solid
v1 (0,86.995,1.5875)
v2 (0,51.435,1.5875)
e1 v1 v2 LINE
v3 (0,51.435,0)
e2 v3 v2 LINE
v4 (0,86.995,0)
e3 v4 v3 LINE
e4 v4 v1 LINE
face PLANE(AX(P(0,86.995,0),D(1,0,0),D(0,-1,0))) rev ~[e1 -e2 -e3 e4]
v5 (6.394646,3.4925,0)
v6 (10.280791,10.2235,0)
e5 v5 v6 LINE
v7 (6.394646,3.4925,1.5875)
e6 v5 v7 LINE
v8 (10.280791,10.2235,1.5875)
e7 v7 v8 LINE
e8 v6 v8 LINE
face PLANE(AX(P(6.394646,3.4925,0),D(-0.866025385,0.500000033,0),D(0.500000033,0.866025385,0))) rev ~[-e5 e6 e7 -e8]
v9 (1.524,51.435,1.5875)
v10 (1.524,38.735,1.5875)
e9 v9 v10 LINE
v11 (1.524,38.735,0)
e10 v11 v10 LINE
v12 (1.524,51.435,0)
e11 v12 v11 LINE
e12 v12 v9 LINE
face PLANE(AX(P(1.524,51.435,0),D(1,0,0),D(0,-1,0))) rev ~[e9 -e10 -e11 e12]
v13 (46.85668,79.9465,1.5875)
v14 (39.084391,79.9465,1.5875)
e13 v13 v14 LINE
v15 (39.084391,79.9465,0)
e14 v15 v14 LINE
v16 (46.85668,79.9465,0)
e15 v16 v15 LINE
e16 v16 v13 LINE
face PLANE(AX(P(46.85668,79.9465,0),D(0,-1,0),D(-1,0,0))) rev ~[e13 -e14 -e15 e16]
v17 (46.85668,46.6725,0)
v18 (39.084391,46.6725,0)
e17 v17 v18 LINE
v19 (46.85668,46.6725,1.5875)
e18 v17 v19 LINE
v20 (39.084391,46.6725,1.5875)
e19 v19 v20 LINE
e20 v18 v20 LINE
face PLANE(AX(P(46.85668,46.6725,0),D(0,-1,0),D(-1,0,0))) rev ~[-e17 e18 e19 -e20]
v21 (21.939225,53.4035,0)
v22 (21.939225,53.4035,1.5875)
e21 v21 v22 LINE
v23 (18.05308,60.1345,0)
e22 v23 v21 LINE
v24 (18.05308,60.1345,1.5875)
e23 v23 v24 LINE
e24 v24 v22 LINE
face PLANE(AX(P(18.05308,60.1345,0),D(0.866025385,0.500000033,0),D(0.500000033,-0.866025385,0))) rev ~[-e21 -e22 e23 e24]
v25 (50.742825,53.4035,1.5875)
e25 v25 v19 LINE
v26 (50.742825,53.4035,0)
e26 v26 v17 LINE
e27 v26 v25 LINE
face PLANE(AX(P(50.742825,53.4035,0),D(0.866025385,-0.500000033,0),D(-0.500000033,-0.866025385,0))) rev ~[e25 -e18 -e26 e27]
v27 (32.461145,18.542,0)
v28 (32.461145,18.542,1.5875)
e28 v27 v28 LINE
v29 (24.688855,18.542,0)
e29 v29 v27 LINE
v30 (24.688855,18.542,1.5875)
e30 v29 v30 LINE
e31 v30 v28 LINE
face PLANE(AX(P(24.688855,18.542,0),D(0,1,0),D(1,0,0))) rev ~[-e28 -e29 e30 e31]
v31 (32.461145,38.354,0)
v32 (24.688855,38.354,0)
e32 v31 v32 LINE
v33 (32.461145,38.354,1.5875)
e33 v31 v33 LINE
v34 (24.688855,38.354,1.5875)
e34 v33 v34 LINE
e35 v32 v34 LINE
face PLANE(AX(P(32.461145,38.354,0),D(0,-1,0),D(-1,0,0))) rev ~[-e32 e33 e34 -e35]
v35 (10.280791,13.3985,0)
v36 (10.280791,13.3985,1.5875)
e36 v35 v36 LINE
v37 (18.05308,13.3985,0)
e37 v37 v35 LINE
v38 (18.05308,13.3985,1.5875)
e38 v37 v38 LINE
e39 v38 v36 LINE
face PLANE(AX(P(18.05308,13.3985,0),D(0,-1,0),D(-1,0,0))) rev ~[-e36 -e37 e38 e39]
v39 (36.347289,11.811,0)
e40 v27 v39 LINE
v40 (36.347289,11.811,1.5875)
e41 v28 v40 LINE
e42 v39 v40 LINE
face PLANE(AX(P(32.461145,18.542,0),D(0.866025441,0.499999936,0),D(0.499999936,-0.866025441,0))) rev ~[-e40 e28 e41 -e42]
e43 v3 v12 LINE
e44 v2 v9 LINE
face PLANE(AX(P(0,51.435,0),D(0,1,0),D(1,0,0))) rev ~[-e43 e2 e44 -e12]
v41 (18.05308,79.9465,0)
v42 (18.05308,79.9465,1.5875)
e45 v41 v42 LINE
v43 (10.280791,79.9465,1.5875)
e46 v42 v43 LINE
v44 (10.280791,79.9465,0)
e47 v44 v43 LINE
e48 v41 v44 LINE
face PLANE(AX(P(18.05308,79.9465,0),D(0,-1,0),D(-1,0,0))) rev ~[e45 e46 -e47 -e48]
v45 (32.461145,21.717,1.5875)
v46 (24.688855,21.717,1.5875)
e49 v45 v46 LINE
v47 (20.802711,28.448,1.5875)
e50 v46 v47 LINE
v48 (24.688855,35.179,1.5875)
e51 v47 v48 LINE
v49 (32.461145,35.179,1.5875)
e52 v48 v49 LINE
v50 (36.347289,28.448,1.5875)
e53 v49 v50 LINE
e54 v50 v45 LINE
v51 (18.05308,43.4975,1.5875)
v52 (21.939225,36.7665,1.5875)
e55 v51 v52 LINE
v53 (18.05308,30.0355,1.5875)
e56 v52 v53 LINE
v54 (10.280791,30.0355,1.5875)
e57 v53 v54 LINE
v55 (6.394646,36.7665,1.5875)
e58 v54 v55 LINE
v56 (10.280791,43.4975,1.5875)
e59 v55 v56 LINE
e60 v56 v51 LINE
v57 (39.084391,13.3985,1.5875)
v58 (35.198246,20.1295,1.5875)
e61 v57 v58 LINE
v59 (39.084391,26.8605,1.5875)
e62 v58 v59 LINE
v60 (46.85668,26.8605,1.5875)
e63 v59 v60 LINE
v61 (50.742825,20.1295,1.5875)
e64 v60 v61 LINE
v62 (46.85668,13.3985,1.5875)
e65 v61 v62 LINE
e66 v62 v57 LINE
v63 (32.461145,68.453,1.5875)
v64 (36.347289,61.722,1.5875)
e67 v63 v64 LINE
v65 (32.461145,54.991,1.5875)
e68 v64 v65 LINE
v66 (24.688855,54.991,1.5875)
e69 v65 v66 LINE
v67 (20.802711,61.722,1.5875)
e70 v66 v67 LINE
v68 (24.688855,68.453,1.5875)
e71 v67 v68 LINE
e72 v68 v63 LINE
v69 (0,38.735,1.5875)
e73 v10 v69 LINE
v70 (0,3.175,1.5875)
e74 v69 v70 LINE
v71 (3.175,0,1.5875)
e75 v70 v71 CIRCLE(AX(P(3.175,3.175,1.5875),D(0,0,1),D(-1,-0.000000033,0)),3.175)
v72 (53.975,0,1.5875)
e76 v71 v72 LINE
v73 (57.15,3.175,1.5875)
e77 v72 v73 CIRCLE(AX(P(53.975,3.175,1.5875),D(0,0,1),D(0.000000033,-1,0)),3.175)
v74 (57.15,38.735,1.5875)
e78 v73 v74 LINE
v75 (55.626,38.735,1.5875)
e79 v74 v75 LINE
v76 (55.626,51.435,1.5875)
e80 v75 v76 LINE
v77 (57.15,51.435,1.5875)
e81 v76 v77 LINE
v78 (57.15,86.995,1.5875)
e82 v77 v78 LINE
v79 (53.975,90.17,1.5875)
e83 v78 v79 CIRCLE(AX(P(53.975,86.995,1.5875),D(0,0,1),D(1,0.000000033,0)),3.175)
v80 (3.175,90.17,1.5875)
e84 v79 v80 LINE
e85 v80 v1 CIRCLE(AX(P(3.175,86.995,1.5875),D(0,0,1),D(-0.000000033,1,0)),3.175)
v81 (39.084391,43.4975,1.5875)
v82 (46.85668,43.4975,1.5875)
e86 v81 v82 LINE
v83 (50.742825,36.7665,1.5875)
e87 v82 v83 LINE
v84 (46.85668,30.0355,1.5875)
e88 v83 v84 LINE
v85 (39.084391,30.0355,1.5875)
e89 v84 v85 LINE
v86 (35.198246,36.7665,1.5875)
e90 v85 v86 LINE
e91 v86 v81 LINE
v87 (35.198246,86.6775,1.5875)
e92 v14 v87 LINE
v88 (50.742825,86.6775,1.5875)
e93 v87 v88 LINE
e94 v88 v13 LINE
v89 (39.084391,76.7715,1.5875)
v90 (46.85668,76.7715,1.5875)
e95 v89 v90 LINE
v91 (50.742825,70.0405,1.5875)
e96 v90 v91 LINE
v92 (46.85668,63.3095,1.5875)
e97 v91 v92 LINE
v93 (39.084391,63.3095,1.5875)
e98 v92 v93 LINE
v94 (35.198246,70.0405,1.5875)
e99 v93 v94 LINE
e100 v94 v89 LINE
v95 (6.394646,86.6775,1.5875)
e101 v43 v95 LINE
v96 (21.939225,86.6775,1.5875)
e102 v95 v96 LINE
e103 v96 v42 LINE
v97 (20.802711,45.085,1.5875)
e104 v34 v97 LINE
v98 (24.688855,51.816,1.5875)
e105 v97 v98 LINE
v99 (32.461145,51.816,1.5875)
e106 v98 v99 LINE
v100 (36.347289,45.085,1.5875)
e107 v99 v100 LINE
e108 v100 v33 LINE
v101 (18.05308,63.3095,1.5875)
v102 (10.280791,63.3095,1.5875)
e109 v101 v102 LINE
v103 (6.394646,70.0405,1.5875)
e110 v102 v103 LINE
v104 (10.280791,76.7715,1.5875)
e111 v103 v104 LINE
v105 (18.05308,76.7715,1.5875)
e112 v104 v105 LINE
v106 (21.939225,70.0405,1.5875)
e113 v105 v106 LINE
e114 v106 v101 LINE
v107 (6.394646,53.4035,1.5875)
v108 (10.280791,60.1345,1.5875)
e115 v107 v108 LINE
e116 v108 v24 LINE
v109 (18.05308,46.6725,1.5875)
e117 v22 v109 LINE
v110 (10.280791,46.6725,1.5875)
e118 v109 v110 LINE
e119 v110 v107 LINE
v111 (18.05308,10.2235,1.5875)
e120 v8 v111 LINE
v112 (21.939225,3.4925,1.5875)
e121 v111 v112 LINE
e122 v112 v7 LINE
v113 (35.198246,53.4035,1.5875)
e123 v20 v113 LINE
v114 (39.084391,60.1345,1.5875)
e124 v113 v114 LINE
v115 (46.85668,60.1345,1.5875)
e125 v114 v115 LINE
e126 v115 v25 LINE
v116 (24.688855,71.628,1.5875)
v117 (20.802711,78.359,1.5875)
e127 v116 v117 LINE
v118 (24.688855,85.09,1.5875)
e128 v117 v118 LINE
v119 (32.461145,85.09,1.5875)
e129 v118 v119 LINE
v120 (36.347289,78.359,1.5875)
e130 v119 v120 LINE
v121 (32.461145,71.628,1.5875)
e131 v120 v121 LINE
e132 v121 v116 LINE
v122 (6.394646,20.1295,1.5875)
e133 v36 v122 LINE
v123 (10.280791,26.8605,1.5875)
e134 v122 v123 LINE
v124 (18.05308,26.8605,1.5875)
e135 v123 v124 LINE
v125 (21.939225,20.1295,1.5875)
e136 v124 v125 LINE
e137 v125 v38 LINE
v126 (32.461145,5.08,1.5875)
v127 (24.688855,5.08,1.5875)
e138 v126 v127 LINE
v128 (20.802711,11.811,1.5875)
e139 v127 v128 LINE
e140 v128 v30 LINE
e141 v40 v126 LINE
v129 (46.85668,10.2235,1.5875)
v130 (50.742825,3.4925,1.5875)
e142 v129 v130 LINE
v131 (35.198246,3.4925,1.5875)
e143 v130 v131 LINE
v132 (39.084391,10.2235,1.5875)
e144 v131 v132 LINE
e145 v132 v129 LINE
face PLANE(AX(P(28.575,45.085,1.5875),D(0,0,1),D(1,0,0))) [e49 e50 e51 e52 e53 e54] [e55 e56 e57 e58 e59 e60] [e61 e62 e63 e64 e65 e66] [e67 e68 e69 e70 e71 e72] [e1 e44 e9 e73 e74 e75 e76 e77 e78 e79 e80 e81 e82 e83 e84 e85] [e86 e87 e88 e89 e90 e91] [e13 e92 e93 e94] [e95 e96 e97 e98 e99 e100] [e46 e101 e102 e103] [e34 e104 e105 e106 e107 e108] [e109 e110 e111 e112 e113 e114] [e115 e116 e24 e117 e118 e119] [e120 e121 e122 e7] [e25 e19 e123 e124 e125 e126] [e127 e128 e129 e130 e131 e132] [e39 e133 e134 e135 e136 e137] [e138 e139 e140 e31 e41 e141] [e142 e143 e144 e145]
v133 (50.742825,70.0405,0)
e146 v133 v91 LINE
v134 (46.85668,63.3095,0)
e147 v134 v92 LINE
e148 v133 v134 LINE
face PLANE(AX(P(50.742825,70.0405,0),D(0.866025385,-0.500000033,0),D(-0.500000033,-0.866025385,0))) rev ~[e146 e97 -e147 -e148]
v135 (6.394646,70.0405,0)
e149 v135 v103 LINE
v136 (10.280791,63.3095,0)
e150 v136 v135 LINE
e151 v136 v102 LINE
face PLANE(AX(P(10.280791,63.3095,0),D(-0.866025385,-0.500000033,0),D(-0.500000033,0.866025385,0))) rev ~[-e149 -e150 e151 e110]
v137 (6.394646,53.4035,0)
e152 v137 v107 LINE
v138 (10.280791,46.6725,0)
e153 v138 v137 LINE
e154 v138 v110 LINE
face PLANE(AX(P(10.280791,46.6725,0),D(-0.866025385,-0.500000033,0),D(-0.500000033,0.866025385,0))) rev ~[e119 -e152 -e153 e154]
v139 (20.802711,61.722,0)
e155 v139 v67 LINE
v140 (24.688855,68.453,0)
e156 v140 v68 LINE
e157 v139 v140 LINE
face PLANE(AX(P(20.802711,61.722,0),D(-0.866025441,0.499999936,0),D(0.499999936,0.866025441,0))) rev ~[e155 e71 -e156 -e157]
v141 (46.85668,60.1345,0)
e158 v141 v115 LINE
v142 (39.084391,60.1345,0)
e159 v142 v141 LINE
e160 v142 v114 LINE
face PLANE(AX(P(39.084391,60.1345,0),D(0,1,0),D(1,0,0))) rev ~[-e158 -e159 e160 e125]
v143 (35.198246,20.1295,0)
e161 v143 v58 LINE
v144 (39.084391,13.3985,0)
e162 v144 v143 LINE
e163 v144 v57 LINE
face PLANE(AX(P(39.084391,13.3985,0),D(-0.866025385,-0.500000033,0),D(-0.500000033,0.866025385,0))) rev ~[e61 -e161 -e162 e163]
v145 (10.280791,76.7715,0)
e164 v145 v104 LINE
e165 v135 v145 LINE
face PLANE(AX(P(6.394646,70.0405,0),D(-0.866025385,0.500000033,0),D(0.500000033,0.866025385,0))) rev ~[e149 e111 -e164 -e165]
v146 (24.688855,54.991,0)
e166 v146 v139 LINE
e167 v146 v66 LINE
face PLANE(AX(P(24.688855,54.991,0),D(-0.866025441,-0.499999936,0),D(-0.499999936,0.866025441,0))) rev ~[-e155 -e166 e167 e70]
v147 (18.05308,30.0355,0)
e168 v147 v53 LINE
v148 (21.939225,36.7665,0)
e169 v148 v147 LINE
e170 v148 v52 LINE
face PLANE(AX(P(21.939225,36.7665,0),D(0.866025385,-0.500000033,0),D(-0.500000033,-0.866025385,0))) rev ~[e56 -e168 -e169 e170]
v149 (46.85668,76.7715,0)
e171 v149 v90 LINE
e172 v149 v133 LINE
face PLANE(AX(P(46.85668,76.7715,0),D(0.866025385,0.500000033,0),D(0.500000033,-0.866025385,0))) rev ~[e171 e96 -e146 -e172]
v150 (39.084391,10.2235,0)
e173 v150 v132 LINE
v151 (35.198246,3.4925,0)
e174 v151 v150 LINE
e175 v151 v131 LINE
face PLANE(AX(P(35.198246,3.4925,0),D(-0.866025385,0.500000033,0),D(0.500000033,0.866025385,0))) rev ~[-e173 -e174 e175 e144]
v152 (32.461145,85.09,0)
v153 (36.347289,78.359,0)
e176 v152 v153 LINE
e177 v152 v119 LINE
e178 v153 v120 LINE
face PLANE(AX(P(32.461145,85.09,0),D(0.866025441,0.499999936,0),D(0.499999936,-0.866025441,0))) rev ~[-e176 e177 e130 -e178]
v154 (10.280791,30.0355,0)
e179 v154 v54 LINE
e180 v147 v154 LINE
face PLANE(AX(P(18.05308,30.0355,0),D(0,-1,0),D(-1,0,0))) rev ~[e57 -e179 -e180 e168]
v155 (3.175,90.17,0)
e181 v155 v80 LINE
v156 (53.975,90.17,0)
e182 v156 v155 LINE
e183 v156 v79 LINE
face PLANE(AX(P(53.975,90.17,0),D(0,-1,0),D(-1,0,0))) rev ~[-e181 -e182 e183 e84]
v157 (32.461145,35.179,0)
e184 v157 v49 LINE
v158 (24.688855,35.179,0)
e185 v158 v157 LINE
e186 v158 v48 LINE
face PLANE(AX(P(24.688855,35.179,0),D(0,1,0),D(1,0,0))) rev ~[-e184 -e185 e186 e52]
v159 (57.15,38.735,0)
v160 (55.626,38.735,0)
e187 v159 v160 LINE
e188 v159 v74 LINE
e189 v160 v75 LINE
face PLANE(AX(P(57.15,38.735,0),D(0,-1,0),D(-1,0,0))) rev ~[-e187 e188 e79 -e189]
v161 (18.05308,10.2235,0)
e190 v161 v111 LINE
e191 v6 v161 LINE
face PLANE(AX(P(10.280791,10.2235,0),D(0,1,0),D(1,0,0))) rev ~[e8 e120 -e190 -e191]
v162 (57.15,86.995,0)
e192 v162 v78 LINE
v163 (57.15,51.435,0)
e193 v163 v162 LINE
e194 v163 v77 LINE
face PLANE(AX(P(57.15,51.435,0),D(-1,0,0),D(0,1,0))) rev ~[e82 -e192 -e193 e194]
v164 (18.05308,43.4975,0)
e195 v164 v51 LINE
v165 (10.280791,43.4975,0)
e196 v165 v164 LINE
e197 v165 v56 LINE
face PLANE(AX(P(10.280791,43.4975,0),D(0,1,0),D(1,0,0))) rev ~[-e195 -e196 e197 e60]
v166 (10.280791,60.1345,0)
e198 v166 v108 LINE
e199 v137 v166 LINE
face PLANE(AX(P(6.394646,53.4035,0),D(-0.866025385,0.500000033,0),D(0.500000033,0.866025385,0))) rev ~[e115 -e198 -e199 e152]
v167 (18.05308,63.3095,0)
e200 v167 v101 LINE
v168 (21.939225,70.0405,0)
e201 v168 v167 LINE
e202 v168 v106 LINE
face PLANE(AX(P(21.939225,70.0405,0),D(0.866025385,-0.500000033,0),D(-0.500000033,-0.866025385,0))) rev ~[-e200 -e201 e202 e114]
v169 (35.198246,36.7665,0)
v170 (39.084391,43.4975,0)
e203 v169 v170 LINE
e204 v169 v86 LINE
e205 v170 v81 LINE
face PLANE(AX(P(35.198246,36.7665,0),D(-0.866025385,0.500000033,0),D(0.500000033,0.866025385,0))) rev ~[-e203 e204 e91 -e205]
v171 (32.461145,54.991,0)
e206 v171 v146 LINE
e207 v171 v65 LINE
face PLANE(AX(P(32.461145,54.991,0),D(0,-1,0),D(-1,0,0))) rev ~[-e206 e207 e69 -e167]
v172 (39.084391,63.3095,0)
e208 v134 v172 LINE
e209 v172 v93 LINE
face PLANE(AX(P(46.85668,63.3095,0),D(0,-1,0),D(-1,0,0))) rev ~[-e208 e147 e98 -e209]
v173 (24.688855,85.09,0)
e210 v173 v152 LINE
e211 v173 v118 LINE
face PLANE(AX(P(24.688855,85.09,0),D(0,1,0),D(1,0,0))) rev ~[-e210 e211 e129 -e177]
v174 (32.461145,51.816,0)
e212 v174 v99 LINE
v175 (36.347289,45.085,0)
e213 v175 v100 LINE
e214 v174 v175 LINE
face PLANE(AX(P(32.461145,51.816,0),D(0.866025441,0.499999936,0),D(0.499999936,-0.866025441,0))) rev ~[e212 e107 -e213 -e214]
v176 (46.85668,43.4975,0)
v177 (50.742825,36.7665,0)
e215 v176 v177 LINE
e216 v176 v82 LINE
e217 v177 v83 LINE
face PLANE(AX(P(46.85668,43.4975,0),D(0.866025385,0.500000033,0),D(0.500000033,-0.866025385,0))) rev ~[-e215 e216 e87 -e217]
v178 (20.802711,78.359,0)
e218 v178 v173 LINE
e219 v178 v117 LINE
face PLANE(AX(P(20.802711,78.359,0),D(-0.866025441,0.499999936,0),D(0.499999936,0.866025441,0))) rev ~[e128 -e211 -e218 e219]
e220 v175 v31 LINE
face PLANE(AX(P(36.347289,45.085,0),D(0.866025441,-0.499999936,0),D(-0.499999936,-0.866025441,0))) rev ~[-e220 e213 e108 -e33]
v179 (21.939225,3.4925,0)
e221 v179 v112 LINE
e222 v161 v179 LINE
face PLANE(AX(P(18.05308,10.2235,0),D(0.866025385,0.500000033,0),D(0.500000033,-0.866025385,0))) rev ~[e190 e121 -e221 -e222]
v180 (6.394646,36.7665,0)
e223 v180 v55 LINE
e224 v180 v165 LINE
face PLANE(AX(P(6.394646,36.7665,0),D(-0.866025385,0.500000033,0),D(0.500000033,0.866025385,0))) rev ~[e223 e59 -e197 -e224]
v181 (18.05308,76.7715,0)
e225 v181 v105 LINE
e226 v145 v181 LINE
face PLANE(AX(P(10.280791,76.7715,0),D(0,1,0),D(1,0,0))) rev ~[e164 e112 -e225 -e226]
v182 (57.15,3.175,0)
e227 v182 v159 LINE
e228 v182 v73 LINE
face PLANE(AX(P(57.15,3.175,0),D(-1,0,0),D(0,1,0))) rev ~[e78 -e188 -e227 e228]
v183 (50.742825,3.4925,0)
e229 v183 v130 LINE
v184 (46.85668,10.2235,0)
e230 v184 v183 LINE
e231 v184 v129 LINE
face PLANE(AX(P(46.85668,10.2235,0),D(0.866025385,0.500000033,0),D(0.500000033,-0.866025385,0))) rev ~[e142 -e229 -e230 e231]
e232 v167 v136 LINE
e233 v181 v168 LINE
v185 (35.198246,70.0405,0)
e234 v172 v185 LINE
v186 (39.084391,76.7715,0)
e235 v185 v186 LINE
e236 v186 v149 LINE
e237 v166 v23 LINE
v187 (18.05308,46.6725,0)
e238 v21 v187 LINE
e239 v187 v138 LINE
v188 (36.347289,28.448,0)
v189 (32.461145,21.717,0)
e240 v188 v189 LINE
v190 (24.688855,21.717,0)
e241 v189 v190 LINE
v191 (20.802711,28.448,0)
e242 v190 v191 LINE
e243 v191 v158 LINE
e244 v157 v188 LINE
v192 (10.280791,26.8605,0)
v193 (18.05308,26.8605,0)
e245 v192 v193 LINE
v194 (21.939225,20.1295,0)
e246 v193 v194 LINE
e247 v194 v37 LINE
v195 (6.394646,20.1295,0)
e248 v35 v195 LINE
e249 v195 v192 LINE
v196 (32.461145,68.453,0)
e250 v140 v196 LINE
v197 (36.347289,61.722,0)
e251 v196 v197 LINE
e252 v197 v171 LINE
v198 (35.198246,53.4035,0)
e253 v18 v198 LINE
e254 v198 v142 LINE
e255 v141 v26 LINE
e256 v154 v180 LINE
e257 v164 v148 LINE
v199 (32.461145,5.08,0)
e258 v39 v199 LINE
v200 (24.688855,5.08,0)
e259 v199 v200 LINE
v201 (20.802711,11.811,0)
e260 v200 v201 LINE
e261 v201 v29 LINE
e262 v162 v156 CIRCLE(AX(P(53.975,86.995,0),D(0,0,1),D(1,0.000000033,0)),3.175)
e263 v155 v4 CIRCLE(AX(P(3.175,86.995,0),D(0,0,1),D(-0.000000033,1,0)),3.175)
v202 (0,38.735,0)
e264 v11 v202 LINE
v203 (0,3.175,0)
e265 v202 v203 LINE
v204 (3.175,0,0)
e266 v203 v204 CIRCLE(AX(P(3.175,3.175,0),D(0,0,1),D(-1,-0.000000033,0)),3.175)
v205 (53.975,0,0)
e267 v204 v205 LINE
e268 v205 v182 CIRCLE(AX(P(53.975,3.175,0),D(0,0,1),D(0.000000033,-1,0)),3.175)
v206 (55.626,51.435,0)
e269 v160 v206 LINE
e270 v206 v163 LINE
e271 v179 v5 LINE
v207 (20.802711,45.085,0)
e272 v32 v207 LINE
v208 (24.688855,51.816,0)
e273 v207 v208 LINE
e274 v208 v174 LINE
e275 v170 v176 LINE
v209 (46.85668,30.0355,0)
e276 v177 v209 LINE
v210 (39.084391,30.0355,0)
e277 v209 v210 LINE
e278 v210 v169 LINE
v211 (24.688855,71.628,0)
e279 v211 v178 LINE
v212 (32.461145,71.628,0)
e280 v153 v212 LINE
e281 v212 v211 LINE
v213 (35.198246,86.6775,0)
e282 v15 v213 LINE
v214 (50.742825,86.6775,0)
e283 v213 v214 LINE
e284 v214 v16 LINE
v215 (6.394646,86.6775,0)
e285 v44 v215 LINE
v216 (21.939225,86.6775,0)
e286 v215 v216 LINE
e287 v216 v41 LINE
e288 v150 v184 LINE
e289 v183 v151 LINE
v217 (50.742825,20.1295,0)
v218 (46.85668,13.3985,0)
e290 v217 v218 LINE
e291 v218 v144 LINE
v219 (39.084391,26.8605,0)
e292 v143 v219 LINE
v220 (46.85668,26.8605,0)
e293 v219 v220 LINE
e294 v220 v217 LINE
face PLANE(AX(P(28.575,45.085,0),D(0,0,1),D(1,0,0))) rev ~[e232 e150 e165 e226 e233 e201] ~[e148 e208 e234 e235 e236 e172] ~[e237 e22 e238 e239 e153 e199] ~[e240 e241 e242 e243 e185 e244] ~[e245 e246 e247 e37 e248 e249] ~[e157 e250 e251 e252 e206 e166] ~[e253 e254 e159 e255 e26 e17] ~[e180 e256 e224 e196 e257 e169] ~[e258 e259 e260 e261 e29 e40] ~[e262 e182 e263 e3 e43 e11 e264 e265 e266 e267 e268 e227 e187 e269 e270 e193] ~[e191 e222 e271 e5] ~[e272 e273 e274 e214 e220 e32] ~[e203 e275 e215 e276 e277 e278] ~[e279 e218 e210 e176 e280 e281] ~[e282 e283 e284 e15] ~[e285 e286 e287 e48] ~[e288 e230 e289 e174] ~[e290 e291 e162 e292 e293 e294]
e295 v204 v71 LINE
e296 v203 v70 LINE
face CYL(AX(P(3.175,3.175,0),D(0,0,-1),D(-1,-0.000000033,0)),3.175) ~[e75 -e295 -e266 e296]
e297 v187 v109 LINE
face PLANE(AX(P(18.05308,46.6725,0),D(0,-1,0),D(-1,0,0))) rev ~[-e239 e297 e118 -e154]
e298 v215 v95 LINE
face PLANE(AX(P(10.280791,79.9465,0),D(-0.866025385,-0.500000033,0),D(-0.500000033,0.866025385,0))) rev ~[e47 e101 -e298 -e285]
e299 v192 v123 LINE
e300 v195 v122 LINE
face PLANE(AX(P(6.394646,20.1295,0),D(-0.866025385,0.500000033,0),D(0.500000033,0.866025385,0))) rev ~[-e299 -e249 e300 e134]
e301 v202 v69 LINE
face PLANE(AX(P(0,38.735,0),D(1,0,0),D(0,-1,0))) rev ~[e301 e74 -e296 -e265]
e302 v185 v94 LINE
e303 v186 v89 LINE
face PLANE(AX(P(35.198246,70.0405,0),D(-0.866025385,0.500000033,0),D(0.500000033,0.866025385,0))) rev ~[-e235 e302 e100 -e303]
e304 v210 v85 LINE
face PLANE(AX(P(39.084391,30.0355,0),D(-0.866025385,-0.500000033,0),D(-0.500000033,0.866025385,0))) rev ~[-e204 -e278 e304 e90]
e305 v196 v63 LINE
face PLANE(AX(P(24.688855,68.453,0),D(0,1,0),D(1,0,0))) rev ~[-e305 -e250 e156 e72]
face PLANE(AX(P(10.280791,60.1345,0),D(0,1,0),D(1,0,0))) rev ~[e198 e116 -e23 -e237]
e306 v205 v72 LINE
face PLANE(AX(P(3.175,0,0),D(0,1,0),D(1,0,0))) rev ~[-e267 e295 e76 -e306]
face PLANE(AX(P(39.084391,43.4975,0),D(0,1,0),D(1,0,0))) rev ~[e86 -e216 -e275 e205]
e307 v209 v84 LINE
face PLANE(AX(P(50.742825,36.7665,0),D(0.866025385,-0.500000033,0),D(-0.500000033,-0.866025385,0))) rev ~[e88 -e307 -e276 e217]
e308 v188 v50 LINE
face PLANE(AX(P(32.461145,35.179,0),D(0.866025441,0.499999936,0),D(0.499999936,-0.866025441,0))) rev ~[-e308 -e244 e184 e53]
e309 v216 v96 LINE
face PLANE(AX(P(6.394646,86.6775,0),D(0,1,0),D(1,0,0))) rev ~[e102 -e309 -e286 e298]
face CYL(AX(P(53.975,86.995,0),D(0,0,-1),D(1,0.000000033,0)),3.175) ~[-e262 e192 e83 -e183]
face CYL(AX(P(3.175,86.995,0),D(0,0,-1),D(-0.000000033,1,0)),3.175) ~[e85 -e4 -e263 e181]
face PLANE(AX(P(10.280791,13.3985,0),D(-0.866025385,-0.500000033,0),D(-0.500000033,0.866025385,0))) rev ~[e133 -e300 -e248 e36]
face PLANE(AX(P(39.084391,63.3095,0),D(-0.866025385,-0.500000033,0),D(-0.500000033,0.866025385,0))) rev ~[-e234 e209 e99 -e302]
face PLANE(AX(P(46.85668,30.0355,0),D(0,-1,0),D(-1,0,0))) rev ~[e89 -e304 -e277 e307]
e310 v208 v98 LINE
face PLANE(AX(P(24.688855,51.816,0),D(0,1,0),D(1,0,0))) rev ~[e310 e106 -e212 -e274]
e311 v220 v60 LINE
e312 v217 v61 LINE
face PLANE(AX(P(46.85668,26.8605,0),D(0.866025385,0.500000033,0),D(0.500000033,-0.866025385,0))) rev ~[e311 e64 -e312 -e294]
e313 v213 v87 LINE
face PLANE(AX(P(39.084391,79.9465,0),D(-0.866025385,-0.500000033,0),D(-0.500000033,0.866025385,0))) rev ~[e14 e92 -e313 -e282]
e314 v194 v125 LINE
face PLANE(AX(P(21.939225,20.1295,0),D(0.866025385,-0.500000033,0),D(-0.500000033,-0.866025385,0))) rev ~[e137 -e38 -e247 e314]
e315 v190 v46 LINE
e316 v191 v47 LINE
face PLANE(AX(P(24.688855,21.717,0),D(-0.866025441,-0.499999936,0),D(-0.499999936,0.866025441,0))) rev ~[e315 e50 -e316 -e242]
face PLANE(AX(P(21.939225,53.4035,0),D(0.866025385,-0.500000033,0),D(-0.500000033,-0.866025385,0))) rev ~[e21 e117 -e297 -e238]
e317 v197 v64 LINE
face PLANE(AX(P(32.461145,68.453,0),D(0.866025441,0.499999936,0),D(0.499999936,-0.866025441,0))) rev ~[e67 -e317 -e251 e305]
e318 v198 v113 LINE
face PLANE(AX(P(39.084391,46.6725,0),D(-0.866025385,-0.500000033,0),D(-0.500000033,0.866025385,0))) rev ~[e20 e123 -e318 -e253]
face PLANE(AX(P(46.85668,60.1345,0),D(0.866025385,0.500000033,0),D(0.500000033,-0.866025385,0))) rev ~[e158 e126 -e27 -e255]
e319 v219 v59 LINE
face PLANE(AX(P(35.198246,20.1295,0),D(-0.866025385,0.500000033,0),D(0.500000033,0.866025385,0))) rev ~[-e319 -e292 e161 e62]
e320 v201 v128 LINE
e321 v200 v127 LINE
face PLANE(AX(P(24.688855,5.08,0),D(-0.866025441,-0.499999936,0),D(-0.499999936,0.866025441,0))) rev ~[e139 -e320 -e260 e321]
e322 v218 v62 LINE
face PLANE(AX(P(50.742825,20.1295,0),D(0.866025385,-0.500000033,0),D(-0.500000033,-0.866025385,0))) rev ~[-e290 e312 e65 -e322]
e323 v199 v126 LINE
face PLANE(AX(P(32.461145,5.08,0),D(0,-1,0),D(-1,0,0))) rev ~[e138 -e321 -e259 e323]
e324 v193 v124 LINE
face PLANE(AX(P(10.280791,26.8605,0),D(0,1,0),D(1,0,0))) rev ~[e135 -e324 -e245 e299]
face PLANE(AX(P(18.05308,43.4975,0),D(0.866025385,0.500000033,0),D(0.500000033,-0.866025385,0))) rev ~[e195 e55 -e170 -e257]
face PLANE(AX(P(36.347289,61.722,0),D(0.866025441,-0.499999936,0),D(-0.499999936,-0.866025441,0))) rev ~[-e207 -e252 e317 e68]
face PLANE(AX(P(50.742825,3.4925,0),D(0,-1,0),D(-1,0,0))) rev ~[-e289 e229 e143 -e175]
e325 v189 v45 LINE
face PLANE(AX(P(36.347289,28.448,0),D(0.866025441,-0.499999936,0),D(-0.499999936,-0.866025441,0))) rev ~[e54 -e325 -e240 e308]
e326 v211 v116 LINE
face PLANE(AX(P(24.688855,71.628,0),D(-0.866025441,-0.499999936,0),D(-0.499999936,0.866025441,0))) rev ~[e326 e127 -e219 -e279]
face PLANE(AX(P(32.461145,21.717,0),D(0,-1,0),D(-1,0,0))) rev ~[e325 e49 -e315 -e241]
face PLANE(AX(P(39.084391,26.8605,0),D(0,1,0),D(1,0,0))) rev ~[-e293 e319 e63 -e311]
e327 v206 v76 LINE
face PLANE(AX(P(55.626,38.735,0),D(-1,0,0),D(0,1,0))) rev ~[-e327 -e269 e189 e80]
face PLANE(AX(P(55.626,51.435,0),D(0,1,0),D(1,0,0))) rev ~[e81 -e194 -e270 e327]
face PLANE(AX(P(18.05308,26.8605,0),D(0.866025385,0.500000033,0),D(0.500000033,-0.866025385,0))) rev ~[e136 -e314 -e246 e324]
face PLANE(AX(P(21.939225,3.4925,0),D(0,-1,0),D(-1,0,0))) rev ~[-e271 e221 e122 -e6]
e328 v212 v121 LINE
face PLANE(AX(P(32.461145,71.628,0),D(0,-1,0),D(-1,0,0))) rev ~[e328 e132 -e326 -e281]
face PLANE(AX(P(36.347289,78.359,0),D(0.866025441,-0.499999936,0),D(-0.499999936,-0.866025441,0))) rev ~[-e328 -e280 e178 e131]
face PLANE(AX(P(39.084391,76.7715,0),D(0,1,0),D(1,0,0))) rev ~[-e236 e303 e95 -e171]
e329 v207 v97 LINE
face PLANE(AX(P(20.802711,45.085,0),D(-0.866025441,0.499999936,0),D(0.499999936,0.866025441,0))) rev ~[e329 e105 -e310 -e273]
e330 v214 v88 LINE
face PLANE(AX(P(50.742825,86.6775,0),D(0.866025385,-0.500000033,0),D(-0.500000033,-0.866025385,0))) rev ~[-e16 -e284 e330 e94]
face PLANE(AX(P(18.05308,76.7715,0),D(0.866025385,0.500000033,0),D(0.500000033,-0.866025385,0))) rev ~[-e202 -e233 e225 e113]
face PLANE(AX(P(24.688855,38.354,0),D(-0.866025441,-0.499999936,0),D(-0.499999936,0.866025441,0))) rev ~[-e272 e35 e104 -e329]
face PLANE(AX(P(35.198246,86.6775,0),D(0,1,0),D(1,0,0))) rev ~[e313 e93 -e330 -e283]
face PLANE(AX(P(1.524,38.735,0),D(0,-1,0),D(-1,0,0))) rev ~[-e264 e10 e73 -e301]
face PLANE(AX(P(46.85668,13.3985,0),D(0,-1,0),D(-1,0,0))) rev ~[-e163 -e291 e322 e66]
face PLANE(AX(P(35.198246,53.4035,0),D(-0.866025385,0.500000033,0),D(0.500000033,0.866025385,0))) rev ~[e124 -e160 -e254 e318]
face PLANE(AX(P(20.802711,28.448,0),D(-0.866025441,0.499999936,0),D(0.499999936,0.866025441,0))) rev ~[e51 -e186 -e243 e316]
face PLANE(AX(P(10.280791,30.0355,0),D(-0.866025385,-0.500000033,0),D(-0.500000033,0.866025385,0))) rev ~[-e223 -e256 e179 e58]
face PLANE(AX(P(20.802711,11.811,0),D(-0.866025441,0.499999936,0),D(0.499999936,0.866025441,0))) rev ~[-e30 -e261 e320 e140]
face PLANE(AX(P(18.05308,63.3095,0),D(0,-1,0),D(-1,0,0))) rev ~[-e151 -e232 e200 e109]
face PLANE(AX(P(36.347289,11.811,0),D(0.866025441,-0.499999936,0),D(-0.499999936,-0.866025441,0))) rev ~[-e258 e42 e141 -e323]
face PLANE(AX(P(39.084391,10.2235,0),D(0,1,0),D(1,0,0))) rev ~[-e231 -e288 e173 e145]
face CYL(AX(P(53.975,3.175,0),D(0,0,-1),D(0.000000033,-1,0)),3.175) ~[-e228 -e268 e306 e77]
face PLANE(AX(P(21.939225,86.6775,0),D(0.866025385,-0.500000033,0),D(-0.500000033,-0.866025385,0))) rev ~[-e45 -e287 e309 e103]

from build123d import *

# Parameters (mm, degrees)
F1_DEPTH = 1.5875


with BuildPart() as f1:
    # F0 (on Top) → F1 (new body)
    with BuildSketch(Plane.XY):
        with BuildLine():
            ThreePointArc((0, 3.175), (0.929936, 0.929936), (3.175, 0))
            Line((3.175, 0), (53.975, 0))
            ThreePointArc((53.975, 0), (56.220064, 0.929936), (57.15, 3.175))
            Line((57.15, 3.175), (57.15, 38.735))
            Line((57.15, 38.735), (55.626, 38.735))
            Line((55.626, 38.735), (55.626, 51.435))
            Line((55.626, 51.435), (57.15, 51.435))
            Line((57.15, 51.435), (57.15, 86.995))
            ThreePointArc((57.15, 86.995), (56.220064, 89.240064), (53.975, 90.17))
            Line((53.975, 90.17), (3.175, 90.17))
            ThreePointArc((3.175, 90.17), (0.929936, 89.240064), (0, 86.995))
            Line((0, 86.995), (0, 51.435))
            Line((0, 51.435), (1.524, 51.435))
            Line((1.524, 51.435), (1.524, 38.735))
            Line((1.524, 38.735), (0, 38.735))
            Line((0, 38.735), (0, 3.175))
        make_face()
        Polygon((10.280791, 10.2235), (18.05308, 10.2235), (21.939225, 3.4925), (6.394646, 3.4925), align=None, mode=Mode.SUBTRACT)
        Polygon((10.280791, 26.8605), (18.05308, 26.8605), (21.939225, 20.1295), (18.05308, 13.3985), (10.280791, 13.3985), (6.394646, 20.1295), align=None, mode=Mode.SUBTRACT)
        Polygon((10.280791, 43.4975), (18.05308, 43.4975), (21.939225, 36.7665), (18.05308, 30.0355), (10.280791, 30.0355), (6.394646, 36.7665), align=None, mode=Mode.SUBTRACT)
        Polygon((36.347289, 11.811), (32.461145, 5.08), (24.688855, 5.08), (20.802711, 11.811), (24.688855, 18.542), (32.461145, 18.542), align=None, mode=Mode.SUBTRACT)
        Polygon((39.084391, 10.2235), (46.85668, 10.2235), (50.742825, 3.4925), (35.198246, 3.4925), align=None, mode=Mode.SUBTRACT)
        Polygon((39.084391, 26.8605), (46.85668, 26.8605), (50.742825, 20.1295), (46.85668, 13.3985), (39.084391, 13.3985), (35.198246, 20.1295), align=None, mode=Mode.SUBTRACT)
        Polygon((36.347289, 28.448), (32.461145, 21.717), (24.688855, 21.717), (20.802711, 28.448), (24.688855, 35.179), (32.461145, 35.179), align=None, mode=Mode.SUBTRACT)
        Polygon((39.084391, 43.4975), (46.85668, 43.4975), (50.742825, 36.7665), (46.85668, 30.0355), (39.084391, 30.0355), (35.198246, 36.7665), align=None, mode=Mode.SUBTRACT)
        Polygon((10.280791, 60.1345), (18.05308, 60.1345), (21.939225, 53.4035), (18.05308, 46.6725), (10.280791, 46.6725), (6.394646, 53.4035), align=None, mode=Mode.SUBTRACT)
        Polygon((6.394646, 70.0405), (10.280791, 76.7715), (18.05308, 76.7715), (21.939225, 70.0405), (18.05308, 63.3095), (10.280791, 63.3095), align=None, mode=Mode.SUBTRACT)
        Polygon((10.280791, 79.9465), (6.394646, 86.6775), (21.939225, 86.6775), (18.05308, 79.9465), align=None, mode=Mode.SUBTRACT)
        Polygon((20.802711, 45.085), (24.688855, 51.816), (32.461145, 51.816), (36.347289, 45.085), (32.461145, 38.354), (24.688855, 38.354), align=None, mode=Mode.SUBTRACT)
        Polygon((24.688855, 54.991), (20.802711, 61.722), (24.688855, 68.453), (32.461145, 68.453), (36.347289, 61.722), (32.461145, 54.991), align=None, mode=Mode.SUBTRACT)
        Polygon((39.084391, 60.1345), (46.85668, 60.1345), (50.742825, 53.4035), (46.85668, 46.6725), (39.084391, 46.6725), (35.198246, 53.4035), align=None, mode=Mode.SUBTRACT)
        Polygon((24.688855, 71.628), (20.802711, 78.359), (24.688855, 85.09), (32.461145, 85.09), (36.347289, 78.359), (32.461145, 71.628), align=None, mode=Mode.SUBTRACT)
        Polygon((39.084391, 76.7715), (46.85668, 76.7715), (50.742825, 70.0405), (46.85668, 63.3095), (39.084391, 63.3095), (35.198246, 70.0405), align=None, mode=Mode.SUBTRACT)
        Polygon((39.084391, 79.9465), (35.198246, 86.6775), (50.742825, 86.6775), (46.85668, 79.9465), align=None, mode=Mode.SUBTRACT)
    extrude(amount=F1_DEPTH)


solid = f1.part
